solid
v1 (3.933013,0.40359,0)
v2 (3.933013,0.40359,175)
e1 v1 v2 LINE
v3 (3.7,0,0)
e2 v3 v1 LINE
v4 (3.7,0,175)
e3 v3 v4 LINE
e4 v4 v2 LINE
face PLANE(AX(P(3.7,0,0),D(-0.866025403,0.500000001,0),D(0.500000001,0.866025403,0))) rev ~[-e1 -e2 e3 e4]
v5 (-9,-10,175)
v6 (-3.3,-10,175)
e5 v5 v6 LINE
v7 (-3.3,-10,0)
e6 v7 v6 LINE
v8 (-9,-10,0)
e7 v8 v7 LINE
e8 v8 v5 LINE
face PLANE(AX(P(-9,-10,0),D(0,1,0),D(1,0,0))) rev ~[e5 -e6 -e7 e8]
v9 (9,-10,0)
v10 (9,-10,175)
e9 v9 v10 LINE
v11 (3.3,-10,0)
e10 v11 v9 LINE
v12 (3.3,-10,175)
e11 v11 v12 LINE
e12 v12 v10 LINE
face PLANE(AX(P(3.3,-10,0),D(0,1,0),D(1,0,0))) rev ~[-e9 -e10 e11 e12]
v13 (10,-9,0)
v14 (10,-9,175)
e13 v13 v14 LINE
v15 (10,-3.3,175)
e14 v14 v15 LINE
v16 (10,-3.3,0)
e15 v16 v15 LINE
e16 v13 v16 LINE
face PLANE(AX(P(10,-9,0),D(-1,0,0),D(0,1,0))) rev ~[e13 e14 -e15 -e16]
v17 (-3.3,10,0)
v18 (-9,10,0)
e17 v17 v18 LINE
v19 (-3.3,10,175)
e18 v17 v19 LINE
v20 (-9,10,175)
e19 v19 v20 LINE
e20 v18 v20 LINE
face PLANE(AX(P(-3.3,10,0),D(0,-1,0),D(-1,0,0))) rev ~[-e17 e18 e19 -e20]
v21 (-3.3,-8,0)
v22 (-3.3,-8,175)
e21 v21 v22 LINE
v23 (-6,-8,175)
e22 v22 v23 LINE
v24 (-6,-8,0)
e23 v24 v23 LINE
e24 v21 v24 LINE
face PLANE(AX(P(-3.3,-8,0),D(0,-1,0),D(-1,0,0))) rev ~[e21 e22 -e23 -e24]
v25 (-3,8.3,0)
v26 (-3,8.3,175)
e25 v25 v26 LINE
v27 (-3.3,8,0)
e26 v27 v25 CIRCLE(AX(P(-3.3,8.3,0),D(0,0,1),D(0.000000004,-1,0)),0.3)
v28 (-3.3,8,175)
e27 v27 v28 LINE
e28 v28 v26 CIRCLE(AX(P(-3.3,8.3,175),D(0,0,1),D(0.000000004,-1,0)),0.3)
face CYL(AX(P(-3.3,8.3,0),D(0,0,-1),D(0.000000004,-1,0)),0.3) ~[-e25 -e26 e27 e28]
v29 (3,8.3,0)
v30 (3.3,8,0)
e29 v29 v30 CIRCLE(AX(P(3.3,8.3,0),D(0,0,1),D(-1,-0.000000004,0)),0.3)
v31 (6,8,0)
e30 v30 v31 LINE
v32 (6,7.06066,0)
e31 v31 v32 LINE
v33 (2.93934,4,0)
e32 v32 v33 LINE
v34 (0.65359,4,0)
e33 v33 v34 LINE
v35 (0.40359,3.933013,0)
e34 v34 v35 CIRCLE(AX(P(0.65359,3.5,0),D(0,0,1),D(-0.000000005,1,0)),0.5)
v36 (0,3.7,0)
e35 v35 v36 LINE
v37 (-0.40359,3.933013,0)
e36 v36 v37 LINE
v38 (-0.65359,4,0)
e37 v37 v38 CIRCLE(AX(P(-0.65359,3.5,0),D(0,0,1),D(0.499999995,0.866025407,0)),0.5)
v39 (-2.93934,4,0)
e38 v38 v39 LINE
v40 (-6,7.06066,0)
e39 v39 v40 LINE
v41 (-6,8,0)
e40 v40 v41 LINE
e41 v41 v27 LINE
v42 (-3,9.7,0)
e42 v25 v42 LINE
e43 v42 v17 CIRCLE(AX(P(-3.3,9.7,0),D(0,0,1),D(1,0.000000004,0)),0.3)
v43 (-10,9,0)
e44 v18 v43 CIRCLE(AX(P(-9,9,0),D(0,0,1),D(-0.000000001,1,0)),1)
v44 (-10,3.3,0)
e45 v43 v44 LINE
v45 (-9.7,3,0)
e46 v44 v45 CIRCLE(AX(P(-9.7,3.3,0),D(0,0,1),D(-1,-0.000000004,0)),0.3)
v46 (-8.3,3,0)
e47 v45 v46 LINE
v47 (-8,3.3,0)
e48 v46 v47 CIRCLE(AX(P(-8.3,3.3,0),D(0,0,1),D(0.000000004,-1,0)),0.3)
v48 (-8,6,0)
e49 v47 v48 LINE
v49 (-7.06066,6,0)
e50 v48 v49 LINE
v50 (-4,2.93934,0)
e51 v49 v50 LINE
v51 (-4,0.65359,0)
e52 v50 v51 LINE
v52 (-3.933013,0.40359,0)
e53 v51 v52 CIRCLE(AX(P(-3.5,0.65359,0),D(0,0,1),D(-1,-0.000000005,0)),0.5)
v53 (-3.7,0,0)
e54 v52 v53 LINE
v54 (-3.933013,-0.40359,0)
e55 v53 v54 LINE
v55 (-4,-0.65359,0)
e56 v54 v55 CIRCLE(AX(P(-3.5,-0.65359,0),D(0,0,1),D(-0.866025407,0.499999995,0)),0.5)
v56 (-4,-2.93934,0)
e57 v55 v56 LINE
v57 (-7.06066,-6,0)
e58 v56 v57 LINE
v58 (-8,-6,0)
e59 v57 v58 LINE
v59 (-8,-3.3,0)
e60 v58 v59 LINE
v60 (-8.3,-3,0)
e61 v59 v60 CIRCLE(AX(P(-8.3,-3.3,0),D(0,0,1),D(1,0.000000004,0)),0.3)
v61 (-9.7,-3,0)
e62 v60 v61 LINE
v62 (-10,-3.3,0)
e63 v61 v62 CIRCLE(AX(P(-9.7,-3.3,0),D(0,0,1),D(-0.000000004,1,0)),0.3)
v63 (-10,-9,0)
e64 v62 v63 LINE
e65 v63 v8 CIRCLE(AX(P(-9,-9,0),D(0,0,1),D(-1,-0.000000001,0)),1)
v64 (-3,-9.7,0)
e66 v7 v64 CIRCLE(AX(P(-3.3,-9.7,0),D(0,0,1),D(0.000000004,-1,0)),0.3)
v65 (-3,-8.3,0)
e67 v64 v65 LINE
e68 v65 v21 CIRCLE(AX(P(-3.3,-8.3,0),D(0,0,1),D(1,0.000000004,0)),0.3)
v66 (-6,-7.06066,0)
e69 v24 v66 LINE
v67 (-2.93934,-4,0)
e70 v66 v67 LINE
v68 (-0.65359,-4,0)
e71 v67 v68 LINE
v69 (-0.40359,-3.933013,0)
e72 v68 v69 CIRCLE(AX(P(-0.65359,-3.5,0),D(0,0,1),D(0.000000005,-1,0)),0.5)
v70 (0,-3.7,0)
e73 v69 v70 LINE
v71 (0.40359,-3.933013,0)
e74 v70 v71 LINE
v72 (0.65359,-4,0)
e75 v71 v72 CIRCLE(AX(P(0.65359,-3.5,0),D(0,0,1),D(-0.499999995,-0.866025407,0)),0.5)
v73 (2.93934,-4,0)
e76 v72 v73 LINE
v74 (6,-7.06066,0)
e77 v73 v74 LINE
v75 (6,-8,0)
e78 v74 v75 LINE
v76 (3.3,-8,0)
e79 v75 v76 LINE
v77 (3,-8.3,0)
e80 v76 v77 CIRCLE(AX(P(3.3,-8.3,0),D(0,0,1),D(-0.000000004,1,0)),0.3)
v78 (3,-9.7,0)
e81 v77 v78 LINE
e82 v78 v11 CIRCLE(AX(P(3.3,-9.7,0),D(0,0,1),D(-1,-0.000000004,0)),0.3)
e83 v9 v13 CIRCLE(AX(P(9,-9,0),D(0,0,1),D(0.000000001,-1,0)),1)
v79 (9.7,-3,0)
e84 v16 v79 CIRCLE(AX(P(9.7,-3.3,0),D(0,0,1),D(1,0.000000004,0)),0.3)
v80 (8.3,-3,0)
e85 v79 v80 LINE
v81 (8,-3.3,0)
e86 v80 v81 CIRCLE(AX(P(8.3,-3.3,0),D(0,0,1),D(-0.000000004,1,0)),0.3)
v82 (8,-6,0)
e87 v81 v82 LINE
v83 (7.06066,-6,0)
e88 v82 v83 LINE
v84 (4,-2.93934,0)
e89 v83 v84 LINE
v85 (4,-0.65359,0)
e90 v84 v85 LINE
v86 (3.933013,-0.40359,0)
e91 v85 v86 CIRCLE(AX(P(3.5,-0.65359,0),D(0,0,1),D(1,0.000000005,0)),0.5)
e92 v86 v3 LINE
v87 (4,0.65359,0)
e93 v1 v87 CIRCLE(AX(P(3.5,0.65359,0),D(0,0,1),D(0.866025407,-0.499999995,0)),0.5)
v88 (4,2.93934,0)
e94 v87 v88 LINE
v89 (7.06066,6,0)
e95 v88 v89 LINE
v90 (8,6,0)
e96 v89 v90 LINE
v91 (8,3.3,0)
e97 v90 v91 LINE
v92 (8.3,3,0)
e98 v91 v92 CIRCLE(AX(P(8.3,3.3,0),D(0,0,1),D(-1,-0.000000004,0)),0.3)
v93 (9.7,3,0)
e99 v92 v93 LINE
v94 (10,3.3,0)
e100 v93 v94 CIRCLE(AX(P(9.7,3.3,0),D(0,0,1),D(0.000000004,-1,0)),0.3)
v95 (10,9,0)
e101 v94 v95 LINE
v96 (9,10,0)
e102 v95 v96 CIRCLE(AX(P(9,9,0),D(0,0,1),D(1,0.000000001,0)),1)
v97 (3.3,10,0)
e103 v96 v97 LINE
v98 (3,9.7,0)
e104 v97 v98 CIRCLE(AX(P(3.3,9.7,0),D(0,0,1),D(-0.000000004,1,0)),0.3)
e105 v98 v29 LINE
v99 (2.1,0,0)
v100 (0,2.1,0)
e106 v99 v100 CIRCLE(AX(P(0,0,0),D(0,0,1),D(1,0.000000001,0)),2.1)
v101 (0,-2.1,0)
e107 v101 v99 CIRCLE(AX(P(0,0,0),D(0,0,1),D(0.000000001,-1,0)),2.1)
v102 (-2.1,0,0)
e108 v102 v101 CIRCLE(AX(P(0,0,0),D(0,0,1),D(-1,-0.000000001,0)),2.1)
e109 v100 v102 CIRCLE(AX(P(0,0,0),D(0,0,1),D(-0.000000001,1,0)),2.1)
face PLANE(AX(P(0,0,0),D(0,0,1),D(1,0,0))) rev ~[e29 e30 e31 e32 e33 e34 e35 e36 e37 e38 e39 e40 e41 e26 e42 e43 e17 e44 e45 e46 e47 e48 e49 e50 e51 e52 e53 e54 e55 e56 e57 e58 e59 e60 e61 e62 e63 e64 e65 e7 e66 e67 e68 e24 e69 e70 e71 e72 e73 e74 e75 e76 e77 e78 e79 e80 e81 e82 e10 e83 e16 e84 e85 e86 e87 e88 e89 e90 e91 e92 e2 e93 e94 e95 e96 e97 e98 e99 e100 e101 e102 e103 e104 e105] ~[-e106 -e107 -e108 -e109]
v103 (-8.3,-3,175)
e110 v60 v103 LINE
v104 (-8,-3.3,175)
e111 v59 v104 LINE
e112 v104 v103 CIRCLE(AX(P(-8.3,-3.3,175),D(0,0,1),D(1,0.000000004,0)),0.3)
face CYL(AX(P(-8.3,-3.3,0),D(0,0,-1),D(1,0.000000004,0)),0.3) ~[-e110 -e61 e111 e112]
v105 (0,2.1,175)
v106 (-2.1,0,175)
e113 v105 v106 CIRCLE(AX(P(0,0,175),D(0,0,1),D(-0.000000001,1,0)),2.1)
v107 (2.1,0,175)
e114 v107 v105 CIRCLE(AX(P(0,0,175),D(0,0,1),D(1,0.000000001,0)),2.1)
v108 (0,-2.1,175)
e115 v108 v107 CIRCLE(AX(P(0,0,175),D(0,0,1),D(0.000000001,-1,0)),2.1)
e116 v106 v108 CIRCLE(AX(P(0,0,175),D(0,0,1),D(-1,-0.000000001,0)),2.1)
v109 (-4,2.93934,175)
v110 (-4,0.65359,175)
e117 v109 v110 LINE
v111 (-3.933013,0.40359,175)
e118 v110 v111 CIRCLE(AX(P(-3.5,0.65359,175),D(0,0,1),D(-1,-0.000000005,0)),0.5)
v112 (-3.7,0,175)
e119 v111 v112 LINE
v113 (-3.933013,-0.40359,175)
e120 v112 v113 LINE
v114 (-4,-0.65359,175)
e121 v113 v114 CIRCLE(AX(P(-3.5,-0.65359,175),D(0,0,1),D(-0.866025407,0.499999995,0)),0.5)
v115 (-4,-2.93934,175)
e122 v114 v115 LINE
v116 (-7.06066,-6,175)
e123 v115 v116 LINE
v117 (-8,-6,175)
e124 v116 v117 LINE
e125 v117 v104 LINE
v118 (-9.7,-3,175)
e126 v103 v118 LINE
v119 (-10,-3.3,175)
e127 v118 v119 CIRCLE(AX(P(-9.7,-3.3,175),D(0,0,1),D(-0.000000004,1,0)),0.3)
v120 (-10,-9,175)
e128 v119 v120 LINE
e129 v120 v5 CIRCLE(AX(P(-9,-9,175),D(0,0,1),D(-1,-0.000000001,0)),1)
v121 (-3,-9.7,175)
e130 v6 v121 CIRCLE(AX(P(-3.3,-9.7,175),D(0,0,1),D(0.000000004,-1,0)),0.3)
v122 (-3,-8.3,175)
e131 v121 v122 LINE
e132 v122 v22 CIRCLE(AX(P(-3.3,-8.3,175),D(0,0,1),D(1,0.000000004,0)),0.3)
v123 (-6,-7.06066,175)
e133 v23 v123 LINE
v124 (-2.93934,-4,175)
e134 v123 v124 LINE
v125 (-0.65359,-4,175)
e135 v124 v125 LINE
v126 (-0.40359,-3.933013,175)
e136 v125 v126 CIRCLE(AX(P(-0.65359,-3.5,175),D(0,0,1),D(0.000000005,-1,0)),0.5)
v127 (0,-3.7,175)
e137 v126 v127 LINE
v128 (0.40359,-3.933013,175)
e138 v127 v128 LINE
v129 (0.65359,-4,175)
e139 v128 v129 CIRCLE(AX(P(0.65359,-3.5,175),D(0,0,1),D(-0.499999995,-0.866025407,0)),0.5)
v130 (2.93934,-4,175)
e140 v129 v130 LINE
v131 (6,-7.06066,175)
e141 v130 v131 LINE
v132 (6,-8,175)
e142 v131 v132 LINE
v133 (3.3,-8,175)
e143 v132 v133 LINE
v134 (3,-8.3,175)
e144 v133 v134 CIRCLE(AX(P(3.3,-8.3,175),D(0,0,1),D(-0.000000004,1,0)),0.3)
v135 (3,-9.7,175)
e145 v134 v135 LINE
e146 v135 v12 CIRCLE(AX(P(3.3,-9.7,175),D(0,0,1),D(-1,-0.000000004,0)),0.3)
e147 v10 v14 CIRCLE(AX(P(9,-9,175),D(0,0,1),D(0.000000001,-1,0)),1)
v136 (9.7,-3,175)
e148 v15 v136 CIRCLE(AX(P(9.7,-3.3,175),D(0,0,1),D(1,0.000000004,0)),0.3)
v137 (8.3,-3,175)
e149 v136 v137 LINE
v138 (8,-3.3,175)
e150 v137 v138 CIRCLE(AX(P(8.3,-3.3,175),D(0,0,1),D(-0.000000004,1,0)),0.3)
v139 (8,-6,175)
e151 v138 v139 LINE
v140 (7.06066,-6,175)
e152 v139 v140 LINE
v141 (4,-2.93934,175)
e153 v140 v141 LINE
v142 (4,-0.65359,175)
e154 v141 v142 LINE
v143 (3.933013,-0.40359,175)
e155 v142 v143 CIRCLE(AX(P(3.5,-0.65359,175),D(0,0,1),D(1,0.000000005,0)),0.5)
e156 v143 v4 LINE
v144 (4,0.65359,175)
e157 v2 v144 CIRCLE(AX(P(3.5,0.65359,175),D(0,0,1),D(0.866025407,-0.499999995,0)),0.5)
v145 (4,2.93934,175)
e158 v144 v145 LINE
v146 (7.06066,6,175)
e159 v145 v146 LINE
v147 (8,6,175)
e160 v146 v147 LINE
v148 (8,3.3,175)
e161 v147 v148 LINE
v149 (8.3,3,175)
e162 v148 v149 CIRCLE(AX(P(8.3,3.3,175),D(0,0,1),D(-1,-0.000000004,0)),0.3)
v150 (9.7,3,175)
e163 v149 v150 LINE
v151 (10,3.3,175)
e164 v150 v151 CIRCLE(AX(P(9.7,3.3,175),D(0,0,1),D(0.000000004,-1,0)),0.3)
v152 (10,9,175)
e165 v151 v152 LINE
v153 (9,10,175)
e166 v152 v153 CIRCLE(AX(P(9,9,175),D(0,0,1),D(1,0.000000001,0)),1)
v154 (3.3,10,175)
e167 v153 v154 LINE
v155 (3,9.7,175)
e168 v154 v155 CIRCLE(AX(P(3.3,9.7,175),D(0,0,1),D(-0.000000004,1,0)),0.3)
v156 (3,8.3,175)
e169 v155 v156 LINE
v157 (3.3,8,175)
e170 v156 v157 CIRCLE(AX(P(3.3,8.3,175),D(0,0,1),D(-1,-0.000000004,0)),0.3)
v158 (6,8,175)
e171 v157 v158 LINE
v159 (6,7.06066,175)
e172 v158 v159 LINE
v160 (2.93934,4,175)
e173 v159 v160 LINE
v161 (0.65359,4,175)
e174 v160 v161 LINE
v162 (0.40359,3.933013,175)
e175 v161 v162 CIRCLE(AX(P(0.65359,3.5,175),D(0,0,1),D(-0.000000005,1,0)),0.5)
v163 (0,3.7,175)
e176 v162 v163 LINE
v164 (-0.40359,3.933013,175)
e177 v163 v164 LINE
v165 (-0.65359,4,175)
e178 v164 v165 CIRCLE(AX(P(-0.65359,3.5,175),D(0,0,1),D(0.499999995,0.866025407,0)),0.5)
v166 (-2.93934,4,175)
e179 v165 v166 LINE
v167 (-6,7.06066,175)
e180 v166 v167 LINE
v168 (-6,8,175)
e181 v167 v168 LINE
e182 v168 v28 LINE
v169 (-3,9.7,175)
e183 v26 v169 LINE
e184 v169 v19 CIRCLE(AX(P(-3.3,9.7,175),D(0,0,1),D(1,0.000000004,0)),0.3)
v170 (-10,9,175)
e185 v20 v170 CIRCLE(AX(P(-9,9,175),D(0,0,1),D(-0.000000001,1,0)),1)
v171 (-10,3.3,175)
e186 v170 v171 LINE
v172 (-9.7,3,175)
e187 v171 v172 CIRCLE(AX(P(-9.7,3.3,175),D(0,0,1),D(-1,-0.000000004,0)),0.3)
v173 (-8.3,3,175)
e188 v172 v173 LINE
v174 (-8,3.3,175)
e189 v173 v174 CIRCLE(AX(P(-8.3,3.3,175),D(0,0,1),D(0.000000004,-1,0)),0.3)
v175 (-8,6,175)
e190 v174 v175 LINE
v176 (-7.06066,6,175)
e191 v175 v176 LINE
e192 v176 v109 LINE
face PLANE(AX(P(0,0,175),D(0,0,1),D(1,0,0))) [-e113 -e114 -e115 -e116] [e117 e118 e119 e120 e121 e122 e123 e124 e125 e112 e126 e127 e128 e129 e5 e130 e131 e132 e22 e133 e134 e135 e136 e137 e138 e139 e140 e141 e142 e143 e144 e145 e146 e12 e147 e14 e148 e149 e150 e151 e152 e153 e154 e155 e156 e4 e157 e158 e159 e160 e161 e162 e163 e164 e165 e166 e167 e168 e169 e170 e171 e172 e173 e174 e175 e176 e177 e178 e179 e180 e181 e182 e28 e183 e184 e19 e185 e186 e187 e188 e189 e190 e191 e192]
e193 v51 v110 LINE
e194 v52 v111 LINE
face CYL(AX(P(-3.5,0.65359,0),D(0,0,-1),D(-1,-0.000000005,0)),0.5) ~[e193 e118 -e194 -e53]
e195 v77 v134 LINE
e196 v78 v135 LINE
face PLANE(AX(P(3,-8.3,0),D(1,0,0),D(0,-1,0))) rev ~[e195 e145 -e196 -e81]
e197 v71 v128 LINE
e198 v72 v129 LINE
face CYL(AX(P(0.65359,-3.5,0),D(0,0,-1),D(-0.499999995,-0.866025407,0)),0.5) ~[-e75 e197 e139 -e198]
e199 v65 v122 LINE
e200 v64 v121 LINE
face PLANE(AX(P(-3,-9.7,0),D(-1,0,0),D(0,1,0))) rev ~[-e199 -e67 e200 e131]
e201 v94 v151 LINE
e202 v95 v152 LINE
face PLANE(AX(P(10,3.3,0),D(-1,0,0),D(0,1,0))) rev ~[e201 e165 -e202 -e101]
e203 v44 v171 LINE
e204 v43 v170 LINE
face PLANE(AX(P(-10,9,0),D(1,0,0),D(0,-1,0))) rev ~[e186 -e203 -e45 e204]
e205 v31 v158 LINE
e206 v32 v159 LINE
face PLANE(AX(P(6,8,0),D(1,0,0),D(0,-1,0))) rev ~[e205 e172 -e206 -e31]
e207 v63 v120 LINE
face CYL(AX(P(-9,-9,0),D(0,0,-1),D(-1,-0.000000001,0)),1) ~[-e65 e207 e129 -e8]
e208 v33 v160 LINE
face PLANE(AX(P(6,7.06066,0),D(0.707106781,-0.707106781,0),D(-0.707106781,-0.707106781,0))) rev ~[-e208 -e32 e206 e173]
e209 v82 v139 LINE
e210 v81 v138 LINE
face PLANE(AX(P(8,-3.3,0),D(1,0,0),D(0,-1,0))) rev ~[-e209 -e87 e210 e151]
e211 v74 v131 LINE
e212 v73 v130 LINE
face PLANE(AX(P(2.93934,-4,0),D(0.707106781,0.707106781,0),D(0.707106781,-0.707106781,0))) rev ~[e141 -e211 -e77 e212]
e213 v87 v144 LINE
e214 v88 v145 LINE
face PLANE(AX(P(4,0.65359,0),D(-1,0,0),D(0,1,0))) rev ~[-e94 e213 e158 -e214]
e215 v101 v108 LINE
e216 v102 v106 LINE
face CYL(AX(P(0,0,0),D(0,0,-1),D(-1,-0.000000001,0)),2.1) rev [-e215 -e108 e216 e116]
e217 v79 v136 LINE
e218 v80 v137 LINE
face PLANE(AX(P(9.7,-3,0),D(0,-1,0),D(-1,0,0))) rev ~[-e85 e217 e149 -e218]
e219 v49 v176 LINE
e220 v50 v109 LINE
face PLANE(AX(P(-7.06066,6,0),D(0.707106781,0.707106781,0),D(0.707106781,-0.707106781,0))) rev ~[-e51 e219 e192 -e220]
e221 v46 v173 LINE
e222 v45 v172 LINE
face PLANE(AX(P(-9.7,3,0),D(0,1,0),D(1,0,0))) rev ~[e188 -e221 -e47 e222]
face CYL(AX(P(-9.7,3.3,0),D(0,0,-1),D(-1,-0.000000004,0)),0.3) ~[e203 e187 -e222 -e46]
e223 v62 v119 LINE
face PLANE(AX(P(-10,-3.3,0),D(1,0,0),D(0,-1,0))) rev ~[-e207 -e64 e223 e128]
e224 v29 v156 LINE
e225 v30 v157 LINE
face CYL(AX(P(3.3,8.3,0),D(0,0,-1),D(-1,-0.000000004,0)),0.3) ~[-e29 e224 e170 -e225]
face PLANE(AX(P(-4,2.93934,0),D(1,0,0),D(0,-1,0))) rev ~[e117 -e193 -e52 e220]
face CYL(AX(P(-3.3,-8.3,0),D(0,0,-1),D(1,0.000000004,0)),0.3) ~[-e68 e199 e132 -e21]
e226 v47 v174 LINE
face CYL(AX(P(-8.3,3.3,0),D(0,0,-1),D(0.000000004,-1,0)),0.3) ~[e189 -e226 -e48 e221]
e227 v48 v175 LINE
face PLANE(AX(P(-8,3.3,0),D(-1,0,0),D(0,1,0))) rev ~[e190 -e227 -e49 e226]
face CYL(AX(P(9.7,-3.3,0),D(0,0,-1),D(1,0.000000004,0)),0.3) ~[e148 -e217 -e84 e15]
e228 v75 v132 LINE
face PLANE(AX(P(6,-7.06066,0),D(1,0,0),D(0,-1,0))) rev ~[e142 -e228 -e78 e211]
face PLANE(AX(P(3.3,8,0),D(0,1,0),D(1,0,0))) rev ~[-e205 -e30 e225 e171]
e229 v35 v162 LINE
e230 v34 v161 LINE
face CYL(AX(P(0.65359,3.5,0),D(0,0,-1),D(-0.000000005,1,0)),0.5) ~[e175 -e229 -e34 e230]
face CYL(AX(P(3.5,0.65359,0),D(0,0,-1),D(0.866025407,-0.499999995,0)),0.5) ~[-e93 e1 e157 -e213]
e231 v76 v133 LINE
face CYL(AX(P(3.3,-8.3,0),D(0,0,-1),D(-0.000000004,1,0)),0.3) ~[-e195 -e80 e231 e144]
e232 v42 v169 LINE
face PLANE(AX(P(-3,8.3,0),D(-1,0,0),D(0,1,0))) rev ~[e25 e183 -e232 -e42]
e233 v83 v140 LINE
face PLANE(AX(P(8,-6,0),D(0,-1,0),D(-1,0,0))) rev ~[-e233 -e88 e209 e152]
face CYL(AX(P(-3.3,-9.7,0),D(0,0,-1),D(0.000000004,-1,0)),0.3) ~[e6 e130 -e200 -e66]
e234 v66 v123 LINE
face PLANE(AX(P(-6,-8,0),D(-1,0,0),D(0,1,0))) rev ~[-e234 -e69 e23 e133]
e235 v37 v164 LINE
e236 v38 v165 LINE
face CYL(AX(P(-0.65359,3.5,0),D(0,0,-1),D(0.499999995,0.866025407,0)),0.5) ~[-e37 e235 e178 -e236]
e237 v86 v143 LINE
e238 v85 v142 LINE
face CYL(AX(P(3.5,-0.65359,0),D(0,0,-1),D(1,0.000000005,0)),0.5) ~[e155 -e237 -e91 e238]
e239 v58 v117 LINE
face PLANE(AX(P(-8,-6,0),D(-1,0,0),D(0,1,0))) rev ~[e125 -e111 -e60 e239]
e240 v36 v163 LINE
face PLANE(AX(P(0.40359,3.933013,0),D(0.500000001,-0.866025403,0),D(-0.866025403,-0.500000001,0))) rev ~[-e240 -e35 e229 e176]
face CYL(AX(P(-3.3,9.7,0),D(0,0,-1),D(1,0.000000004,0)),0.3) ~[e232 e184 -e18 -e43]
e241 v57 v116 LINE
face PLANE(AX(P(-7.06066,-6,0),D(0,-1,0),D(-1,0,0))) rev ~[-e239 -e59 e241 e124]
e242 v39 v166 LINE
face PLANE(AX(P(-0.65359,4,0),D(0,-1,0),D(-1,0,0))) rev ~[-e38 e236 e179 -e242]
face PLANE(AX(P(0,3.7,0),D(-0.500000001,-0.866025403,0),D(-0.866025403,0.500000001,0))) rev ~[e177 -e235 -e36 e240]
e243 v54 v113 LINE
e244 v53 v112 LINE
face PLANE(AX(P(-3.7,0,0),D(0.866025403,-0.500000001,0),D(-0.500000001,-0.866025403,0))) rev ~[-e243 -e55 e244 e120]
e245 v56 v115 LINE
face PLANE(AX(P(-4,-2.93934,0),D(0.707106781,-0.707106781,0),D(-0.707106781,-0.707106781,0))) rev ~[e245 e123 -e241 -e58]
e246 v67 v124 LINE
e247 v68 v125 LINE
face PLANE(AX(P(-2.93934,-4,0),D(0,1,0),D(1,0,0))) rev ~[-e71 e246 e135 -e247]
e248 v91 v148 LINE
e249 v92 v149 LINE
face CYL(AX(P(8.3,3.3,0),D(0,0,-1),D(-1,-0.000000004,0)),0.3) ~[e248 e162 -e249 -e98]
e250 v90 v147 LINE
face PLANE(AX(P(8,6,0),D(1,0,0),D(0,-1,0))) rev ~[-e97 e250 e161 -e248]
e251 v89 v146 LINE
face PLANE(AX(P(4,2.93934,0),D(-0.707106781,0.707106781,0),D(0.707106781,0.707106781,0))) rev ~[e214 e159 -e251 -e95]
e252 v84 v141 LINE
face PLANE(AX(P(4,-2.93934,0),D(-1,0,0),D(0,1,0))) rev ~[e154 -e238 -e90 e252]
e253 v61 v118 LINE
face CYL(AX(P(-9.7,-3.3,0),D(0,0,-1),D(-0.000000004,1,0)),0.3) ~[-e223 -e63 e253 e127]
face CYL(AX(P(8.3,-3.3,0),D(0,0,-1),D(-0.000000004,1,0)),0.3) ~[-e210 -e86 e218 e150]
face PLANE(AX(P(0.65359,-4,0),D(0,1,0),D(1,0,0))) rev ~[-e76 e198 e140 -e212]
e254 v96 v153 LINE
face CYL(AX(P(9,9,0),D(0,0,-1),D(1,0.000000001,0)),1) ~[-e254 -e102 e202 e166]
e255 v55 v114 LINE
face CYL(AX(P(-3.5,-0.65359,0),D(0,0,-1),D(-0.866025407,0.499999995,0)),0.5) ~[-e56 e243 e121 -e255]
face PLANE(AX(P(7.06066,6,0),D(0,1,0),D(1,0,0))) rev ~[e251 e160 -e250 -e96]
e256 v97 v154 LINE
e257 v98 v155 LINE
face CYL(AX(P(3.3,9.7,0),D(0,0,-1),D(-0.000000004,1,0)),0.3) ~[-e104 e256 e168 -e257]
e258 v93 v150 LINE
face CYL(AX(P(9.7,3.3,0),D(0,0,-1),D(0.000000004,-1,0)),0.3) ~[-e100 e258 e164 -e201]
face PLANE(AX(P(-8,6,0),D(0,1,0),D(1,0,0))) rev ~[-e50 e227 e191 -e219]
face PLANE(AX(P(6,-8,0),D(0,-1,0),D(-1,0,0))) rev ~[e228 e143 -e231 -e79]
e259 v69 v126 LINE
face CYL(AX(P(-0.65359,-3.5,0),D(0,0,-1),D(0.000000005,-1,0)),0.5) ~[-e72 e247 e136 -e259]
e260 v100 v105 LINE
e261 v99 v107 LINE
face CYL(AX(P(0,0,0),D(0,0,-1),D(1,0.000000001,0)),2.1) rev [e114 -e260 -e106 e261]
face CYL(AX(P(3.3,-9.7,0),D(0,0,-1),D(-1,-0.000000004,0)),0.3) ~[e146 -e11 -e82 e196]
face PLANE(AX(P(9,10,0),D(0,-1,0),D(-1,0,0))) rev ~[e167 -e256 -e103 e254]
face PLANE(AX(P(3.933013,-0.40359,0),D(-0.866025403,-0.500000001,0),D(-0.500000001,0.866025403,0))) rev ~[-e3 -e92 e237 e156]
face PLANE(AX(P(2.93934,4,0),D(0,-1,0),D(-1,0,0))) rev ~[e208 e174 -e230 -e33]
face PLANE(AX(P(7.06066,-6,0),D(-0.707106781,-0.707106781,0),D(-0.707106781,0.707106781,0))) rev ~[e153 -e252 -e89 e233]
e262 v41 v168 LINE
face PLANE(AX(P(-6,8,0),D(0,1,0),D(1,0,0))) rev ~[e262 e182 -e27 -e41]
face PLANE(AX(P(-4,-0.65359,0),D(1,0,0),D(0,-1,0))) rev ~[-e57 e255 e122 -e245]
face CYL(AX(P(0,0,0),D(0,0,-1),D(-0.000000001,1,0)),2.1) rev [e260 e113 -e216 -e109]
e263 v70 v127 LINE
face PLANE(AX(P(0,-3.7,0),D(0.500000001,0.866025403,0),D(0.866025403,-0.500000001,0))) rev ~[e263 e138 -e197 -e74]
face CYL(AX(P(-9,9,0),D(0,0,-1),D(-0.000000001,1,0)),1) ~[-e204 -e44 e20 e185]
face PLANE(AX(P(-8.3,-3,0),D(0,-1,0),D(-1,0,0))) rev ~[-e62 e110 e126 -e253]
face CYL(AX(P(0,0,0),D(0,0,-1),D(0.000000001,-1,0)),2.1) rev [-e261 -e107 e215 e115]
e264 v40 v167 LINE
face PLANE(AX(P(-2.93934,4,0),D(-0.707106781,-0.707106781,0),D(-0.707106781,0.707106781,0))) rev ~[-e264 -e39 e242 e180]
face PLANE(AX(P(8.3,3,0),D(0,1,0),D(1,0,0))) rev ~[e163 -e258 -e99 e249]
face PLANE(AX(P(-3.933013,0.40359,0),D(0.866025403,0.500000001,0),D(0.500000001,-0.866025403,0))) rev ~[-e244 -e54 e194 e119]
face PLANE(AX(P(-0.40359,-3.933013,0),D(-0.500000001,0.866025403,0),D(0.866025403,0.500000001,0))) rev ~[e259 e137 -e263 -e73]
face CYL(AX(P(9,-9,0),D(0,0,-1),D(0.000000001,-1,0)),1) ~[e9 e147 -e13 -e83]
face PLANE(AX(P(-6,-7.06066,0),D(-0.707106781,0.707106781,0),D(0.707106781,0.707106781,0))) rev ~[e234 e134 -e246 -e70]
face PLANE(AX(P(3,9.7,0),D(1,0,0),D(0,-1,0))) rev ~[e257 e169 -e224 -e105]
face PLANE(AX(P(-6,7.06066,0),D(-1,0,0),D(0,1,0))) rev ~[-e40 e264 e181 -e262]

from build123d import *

# Parameters (mm, degrees)
BOSS_EXTRUDE1_DEPTH = 175


with BuildPart() as part:
    # Model → Boss-Extrude1 (new body)
    with BuildSketch(Plane.XY):
        with BuildLine():
            Line((-3, 8.3), (-3, 9.7))
            ThreePointArc((-3, 9.7), (-3.087867966, 9.912132034), (-3.3, 10))
            Line((-3.3, 10), (-9, 10))
            ThreePointArc((-9, 10), (-9.707106781, 9.707106781), (-10, 9))
            Line((-10, 9), (-10, 3.3))
            ThreePointArc((-10, 3.3), (-9.912132034, 3.087867966), (-9.7, 3))
            Line((-9.7, 3), (-8.3, 3))
            ThreePointArc((-8.3, 3), (-8.087867966, 3.087867966), (-8, 3.3))
            Line((-8, 3.3), (-8, 6))
            Line((-8, 6), (-7.060660172, 6))
            Line((-7.060660172, 6), (-4, 2.939339828))
            Line((-4, 2.939339828), (-4, 0.653589838))
            ThreePointArc((-4, 0.653589838), (-3.982962913, 0.524180316), (-3.933012702, 0.403589838))
            Line((-3.933012702, 0.403589838), (-3.7, 0))
            Line((-3.7, 0), (-3.933012702, -0.403589838))
            ThreePointArc((-3.933012702, -0.403589838), (-3.982962913, -0.524180316), (-4, -0.653589838))
            Line((-4, -0.653589838), (-4, -2.939339828))
            Line((-4, -2.939339828), (-7.060660172, -6))
            Line((-7.060660172, -6), (-8, -6))
            Line((-8, -6), (-8, -3.3))
            ThreePointArc((-8, -3.3), (-8.087867966, -3.087867966), (-8.3, -3))
            Line((-8.3, -3), (-9.7, -3))
            ThreePointArc((-9.7, -3), (-9.912132034, -3.087867966), (-10, -3.3))
            Line((-10, -3.3), (-10, -9))
            ThreePointArc((-10, -9), (-9.707106781, -9.707106781), (-9, -10))
            Line((-9, -10), (-3.3, -10))
            ThreePointArc((-3.3, -10), (-3.087867966, -9.912132034), (-3, -9.7))
            Line((-3, -9.7), (-3, -8.3))
            ThreePointArc((-3, -8.3), (-3.087867966, -8.087867966), (-3.3, -8))
            Line((-3.3, -8), (-6, -8))
            Line((-6, -8), (-6, -7.060660172))
            Line((-6, -7.060660172), (-2.939339828, -4))
            Line((-2.939339828, -4), (-0.653589838, -4))
            ThreePointArc((-0.653589838, -4), (-0.524180316, -3.982962913), (-0.403589838, -3.933012702))
            Line((-0.403589838, -3.933012702), (0, -3.7))
            Line((0, -3.7), (0.403589838, -3.933012702))
            ThreePointArc((0.403589838, -3.933012702), (0.524180316, -3.982962913), (0.653589838, -4))
            Line((0.653589838, -4), (2.939339828, -4))
            Line((2.939339828, -4), (6, -7.060660172))
            Line((6, -7.060660172), (6, -8))
            Line((6, -8), (3.3, -8))
            ThreePointArc((3.3, -8), (3.087867966, -8.087867966), (3, -8.3))
            Line((3, -8.3), (3, -9.7))
            ThreePointArc((3, -9.7), (3.087867966, -9.912132034), (3.3, -10))
            Line((3.3, -10), (9, -10))
            ThreePointArc((9, -10), (9.707106781, -9.707106781), (10, -9))
            Line((10, -9), (10, -3.3))
            ThreePointArc((10, -3.3), (9.912132034, -3.087867966), (9.7, -3))
            Line((9.7, -3), (8.3, -3))
            ThreePointArc((8.3, -3), (8.087867966, -3.087867966), (8, -3.3))
            Line((8, -3.3), (8, -6))
            Line((8, -6), (7.060660172, -6))
            Line((7.060660172, -6), (4, -2.939339828))
            Line((4, -2.939339828), (4, -0.653589838))
            ThreePointArc((4, -0.653589838), (3.982962913, -0.524180316), (3.933012702, -0.403589838))
            Line((3.933012702, -0.403589838), (3.7, 0))
            Line((3.7, 0), (3.933012702, 0.403589838))
            ThreePointArc((3.933012702, 0.403589838), (3.982962913, 0.524180316), (4, 0.653589838))
            Line((4, 0.653589838), (4, 2.939339828))
            Line((4, 2.939339828), (7.060660172, 6))
            Line((7.060660172, 6), (8, 6))
            Line((8, 6), (8, 3.3))
            ThreePointArc((8, 3.3), (8.087867966, 3.087867966), (8.3, 3))
            Line((8.3, 3), (9.7, 3))
            ThreePointArc((9.7, 3), (9.912132034, 3.087867966), (10, 3.3))
            Line((10, 3.3), (10, 9))
            ThreePointArc((10, 9), (9.707106781, 9.707106781), (9, 10))
            Line((9, 10), (3.3, 10))
            ThreePointArc((3.3, 10), (3.087867966, 9.912132034), (3, 9.7))
            Line((3, 9.7), (3, 8.3))
            ThreePointArc((3, 8.3), (3.087867966, 8.087867966), (3.3, 8))
            Line((3.3, 8), (6, 8))
            Line((6, 8), (6, 7.060660172))
            Line((6, 7.060660172), (2.939339828, 4))
            Line((2.939339828, 4), (0.653589838, 4))
            ThreePointArc((0.653589838, 4), (0.524180316, 3.982962913), (0.403589838, 3.933012702))
            Line((0.403589838, 3.933012702), (0, 3.7))
            Line((0, 3.7), (-0.403589838, 3.933012702))
            ThreePointArc((-0.403589838, 3.933012702), (-0.524180316, 3.982962913), (-0.653589838, 4))
            Line((-0.653589838, 4), (-2.939339828, 4))
            Line((-2.939339828, 4), (-6, 7.060660172))
            Line((-6, 7.060660172), (-6, 8))
            Line((-6, 8), (-3.3, 8))
            ThreePointArc((-3.3, 8), (-3.087867966, 8.087867966), (-3, 8.3))
        make_face()
        with BuildLine():
            ThreePointArc((-2.1, 0), (-1.48492424, -1.48492424), (0, -2.1))
            ThreePointArc((0, -2.1), (1.48492424, -1.48492424), (2.1, 0))
            ThreePointArc((2.1, 0), (1.48492424, 1.48492424), (0, 2.1))
            ThreePointArc((0, 2.1), (-1.48492424, 1.48492424), (-2.1, 0))
        make_face(mode=Mode.SUBTRACT)
    extrude(amount=BOSS_EXTRUDE1_DEPTH)


solid = part.part
